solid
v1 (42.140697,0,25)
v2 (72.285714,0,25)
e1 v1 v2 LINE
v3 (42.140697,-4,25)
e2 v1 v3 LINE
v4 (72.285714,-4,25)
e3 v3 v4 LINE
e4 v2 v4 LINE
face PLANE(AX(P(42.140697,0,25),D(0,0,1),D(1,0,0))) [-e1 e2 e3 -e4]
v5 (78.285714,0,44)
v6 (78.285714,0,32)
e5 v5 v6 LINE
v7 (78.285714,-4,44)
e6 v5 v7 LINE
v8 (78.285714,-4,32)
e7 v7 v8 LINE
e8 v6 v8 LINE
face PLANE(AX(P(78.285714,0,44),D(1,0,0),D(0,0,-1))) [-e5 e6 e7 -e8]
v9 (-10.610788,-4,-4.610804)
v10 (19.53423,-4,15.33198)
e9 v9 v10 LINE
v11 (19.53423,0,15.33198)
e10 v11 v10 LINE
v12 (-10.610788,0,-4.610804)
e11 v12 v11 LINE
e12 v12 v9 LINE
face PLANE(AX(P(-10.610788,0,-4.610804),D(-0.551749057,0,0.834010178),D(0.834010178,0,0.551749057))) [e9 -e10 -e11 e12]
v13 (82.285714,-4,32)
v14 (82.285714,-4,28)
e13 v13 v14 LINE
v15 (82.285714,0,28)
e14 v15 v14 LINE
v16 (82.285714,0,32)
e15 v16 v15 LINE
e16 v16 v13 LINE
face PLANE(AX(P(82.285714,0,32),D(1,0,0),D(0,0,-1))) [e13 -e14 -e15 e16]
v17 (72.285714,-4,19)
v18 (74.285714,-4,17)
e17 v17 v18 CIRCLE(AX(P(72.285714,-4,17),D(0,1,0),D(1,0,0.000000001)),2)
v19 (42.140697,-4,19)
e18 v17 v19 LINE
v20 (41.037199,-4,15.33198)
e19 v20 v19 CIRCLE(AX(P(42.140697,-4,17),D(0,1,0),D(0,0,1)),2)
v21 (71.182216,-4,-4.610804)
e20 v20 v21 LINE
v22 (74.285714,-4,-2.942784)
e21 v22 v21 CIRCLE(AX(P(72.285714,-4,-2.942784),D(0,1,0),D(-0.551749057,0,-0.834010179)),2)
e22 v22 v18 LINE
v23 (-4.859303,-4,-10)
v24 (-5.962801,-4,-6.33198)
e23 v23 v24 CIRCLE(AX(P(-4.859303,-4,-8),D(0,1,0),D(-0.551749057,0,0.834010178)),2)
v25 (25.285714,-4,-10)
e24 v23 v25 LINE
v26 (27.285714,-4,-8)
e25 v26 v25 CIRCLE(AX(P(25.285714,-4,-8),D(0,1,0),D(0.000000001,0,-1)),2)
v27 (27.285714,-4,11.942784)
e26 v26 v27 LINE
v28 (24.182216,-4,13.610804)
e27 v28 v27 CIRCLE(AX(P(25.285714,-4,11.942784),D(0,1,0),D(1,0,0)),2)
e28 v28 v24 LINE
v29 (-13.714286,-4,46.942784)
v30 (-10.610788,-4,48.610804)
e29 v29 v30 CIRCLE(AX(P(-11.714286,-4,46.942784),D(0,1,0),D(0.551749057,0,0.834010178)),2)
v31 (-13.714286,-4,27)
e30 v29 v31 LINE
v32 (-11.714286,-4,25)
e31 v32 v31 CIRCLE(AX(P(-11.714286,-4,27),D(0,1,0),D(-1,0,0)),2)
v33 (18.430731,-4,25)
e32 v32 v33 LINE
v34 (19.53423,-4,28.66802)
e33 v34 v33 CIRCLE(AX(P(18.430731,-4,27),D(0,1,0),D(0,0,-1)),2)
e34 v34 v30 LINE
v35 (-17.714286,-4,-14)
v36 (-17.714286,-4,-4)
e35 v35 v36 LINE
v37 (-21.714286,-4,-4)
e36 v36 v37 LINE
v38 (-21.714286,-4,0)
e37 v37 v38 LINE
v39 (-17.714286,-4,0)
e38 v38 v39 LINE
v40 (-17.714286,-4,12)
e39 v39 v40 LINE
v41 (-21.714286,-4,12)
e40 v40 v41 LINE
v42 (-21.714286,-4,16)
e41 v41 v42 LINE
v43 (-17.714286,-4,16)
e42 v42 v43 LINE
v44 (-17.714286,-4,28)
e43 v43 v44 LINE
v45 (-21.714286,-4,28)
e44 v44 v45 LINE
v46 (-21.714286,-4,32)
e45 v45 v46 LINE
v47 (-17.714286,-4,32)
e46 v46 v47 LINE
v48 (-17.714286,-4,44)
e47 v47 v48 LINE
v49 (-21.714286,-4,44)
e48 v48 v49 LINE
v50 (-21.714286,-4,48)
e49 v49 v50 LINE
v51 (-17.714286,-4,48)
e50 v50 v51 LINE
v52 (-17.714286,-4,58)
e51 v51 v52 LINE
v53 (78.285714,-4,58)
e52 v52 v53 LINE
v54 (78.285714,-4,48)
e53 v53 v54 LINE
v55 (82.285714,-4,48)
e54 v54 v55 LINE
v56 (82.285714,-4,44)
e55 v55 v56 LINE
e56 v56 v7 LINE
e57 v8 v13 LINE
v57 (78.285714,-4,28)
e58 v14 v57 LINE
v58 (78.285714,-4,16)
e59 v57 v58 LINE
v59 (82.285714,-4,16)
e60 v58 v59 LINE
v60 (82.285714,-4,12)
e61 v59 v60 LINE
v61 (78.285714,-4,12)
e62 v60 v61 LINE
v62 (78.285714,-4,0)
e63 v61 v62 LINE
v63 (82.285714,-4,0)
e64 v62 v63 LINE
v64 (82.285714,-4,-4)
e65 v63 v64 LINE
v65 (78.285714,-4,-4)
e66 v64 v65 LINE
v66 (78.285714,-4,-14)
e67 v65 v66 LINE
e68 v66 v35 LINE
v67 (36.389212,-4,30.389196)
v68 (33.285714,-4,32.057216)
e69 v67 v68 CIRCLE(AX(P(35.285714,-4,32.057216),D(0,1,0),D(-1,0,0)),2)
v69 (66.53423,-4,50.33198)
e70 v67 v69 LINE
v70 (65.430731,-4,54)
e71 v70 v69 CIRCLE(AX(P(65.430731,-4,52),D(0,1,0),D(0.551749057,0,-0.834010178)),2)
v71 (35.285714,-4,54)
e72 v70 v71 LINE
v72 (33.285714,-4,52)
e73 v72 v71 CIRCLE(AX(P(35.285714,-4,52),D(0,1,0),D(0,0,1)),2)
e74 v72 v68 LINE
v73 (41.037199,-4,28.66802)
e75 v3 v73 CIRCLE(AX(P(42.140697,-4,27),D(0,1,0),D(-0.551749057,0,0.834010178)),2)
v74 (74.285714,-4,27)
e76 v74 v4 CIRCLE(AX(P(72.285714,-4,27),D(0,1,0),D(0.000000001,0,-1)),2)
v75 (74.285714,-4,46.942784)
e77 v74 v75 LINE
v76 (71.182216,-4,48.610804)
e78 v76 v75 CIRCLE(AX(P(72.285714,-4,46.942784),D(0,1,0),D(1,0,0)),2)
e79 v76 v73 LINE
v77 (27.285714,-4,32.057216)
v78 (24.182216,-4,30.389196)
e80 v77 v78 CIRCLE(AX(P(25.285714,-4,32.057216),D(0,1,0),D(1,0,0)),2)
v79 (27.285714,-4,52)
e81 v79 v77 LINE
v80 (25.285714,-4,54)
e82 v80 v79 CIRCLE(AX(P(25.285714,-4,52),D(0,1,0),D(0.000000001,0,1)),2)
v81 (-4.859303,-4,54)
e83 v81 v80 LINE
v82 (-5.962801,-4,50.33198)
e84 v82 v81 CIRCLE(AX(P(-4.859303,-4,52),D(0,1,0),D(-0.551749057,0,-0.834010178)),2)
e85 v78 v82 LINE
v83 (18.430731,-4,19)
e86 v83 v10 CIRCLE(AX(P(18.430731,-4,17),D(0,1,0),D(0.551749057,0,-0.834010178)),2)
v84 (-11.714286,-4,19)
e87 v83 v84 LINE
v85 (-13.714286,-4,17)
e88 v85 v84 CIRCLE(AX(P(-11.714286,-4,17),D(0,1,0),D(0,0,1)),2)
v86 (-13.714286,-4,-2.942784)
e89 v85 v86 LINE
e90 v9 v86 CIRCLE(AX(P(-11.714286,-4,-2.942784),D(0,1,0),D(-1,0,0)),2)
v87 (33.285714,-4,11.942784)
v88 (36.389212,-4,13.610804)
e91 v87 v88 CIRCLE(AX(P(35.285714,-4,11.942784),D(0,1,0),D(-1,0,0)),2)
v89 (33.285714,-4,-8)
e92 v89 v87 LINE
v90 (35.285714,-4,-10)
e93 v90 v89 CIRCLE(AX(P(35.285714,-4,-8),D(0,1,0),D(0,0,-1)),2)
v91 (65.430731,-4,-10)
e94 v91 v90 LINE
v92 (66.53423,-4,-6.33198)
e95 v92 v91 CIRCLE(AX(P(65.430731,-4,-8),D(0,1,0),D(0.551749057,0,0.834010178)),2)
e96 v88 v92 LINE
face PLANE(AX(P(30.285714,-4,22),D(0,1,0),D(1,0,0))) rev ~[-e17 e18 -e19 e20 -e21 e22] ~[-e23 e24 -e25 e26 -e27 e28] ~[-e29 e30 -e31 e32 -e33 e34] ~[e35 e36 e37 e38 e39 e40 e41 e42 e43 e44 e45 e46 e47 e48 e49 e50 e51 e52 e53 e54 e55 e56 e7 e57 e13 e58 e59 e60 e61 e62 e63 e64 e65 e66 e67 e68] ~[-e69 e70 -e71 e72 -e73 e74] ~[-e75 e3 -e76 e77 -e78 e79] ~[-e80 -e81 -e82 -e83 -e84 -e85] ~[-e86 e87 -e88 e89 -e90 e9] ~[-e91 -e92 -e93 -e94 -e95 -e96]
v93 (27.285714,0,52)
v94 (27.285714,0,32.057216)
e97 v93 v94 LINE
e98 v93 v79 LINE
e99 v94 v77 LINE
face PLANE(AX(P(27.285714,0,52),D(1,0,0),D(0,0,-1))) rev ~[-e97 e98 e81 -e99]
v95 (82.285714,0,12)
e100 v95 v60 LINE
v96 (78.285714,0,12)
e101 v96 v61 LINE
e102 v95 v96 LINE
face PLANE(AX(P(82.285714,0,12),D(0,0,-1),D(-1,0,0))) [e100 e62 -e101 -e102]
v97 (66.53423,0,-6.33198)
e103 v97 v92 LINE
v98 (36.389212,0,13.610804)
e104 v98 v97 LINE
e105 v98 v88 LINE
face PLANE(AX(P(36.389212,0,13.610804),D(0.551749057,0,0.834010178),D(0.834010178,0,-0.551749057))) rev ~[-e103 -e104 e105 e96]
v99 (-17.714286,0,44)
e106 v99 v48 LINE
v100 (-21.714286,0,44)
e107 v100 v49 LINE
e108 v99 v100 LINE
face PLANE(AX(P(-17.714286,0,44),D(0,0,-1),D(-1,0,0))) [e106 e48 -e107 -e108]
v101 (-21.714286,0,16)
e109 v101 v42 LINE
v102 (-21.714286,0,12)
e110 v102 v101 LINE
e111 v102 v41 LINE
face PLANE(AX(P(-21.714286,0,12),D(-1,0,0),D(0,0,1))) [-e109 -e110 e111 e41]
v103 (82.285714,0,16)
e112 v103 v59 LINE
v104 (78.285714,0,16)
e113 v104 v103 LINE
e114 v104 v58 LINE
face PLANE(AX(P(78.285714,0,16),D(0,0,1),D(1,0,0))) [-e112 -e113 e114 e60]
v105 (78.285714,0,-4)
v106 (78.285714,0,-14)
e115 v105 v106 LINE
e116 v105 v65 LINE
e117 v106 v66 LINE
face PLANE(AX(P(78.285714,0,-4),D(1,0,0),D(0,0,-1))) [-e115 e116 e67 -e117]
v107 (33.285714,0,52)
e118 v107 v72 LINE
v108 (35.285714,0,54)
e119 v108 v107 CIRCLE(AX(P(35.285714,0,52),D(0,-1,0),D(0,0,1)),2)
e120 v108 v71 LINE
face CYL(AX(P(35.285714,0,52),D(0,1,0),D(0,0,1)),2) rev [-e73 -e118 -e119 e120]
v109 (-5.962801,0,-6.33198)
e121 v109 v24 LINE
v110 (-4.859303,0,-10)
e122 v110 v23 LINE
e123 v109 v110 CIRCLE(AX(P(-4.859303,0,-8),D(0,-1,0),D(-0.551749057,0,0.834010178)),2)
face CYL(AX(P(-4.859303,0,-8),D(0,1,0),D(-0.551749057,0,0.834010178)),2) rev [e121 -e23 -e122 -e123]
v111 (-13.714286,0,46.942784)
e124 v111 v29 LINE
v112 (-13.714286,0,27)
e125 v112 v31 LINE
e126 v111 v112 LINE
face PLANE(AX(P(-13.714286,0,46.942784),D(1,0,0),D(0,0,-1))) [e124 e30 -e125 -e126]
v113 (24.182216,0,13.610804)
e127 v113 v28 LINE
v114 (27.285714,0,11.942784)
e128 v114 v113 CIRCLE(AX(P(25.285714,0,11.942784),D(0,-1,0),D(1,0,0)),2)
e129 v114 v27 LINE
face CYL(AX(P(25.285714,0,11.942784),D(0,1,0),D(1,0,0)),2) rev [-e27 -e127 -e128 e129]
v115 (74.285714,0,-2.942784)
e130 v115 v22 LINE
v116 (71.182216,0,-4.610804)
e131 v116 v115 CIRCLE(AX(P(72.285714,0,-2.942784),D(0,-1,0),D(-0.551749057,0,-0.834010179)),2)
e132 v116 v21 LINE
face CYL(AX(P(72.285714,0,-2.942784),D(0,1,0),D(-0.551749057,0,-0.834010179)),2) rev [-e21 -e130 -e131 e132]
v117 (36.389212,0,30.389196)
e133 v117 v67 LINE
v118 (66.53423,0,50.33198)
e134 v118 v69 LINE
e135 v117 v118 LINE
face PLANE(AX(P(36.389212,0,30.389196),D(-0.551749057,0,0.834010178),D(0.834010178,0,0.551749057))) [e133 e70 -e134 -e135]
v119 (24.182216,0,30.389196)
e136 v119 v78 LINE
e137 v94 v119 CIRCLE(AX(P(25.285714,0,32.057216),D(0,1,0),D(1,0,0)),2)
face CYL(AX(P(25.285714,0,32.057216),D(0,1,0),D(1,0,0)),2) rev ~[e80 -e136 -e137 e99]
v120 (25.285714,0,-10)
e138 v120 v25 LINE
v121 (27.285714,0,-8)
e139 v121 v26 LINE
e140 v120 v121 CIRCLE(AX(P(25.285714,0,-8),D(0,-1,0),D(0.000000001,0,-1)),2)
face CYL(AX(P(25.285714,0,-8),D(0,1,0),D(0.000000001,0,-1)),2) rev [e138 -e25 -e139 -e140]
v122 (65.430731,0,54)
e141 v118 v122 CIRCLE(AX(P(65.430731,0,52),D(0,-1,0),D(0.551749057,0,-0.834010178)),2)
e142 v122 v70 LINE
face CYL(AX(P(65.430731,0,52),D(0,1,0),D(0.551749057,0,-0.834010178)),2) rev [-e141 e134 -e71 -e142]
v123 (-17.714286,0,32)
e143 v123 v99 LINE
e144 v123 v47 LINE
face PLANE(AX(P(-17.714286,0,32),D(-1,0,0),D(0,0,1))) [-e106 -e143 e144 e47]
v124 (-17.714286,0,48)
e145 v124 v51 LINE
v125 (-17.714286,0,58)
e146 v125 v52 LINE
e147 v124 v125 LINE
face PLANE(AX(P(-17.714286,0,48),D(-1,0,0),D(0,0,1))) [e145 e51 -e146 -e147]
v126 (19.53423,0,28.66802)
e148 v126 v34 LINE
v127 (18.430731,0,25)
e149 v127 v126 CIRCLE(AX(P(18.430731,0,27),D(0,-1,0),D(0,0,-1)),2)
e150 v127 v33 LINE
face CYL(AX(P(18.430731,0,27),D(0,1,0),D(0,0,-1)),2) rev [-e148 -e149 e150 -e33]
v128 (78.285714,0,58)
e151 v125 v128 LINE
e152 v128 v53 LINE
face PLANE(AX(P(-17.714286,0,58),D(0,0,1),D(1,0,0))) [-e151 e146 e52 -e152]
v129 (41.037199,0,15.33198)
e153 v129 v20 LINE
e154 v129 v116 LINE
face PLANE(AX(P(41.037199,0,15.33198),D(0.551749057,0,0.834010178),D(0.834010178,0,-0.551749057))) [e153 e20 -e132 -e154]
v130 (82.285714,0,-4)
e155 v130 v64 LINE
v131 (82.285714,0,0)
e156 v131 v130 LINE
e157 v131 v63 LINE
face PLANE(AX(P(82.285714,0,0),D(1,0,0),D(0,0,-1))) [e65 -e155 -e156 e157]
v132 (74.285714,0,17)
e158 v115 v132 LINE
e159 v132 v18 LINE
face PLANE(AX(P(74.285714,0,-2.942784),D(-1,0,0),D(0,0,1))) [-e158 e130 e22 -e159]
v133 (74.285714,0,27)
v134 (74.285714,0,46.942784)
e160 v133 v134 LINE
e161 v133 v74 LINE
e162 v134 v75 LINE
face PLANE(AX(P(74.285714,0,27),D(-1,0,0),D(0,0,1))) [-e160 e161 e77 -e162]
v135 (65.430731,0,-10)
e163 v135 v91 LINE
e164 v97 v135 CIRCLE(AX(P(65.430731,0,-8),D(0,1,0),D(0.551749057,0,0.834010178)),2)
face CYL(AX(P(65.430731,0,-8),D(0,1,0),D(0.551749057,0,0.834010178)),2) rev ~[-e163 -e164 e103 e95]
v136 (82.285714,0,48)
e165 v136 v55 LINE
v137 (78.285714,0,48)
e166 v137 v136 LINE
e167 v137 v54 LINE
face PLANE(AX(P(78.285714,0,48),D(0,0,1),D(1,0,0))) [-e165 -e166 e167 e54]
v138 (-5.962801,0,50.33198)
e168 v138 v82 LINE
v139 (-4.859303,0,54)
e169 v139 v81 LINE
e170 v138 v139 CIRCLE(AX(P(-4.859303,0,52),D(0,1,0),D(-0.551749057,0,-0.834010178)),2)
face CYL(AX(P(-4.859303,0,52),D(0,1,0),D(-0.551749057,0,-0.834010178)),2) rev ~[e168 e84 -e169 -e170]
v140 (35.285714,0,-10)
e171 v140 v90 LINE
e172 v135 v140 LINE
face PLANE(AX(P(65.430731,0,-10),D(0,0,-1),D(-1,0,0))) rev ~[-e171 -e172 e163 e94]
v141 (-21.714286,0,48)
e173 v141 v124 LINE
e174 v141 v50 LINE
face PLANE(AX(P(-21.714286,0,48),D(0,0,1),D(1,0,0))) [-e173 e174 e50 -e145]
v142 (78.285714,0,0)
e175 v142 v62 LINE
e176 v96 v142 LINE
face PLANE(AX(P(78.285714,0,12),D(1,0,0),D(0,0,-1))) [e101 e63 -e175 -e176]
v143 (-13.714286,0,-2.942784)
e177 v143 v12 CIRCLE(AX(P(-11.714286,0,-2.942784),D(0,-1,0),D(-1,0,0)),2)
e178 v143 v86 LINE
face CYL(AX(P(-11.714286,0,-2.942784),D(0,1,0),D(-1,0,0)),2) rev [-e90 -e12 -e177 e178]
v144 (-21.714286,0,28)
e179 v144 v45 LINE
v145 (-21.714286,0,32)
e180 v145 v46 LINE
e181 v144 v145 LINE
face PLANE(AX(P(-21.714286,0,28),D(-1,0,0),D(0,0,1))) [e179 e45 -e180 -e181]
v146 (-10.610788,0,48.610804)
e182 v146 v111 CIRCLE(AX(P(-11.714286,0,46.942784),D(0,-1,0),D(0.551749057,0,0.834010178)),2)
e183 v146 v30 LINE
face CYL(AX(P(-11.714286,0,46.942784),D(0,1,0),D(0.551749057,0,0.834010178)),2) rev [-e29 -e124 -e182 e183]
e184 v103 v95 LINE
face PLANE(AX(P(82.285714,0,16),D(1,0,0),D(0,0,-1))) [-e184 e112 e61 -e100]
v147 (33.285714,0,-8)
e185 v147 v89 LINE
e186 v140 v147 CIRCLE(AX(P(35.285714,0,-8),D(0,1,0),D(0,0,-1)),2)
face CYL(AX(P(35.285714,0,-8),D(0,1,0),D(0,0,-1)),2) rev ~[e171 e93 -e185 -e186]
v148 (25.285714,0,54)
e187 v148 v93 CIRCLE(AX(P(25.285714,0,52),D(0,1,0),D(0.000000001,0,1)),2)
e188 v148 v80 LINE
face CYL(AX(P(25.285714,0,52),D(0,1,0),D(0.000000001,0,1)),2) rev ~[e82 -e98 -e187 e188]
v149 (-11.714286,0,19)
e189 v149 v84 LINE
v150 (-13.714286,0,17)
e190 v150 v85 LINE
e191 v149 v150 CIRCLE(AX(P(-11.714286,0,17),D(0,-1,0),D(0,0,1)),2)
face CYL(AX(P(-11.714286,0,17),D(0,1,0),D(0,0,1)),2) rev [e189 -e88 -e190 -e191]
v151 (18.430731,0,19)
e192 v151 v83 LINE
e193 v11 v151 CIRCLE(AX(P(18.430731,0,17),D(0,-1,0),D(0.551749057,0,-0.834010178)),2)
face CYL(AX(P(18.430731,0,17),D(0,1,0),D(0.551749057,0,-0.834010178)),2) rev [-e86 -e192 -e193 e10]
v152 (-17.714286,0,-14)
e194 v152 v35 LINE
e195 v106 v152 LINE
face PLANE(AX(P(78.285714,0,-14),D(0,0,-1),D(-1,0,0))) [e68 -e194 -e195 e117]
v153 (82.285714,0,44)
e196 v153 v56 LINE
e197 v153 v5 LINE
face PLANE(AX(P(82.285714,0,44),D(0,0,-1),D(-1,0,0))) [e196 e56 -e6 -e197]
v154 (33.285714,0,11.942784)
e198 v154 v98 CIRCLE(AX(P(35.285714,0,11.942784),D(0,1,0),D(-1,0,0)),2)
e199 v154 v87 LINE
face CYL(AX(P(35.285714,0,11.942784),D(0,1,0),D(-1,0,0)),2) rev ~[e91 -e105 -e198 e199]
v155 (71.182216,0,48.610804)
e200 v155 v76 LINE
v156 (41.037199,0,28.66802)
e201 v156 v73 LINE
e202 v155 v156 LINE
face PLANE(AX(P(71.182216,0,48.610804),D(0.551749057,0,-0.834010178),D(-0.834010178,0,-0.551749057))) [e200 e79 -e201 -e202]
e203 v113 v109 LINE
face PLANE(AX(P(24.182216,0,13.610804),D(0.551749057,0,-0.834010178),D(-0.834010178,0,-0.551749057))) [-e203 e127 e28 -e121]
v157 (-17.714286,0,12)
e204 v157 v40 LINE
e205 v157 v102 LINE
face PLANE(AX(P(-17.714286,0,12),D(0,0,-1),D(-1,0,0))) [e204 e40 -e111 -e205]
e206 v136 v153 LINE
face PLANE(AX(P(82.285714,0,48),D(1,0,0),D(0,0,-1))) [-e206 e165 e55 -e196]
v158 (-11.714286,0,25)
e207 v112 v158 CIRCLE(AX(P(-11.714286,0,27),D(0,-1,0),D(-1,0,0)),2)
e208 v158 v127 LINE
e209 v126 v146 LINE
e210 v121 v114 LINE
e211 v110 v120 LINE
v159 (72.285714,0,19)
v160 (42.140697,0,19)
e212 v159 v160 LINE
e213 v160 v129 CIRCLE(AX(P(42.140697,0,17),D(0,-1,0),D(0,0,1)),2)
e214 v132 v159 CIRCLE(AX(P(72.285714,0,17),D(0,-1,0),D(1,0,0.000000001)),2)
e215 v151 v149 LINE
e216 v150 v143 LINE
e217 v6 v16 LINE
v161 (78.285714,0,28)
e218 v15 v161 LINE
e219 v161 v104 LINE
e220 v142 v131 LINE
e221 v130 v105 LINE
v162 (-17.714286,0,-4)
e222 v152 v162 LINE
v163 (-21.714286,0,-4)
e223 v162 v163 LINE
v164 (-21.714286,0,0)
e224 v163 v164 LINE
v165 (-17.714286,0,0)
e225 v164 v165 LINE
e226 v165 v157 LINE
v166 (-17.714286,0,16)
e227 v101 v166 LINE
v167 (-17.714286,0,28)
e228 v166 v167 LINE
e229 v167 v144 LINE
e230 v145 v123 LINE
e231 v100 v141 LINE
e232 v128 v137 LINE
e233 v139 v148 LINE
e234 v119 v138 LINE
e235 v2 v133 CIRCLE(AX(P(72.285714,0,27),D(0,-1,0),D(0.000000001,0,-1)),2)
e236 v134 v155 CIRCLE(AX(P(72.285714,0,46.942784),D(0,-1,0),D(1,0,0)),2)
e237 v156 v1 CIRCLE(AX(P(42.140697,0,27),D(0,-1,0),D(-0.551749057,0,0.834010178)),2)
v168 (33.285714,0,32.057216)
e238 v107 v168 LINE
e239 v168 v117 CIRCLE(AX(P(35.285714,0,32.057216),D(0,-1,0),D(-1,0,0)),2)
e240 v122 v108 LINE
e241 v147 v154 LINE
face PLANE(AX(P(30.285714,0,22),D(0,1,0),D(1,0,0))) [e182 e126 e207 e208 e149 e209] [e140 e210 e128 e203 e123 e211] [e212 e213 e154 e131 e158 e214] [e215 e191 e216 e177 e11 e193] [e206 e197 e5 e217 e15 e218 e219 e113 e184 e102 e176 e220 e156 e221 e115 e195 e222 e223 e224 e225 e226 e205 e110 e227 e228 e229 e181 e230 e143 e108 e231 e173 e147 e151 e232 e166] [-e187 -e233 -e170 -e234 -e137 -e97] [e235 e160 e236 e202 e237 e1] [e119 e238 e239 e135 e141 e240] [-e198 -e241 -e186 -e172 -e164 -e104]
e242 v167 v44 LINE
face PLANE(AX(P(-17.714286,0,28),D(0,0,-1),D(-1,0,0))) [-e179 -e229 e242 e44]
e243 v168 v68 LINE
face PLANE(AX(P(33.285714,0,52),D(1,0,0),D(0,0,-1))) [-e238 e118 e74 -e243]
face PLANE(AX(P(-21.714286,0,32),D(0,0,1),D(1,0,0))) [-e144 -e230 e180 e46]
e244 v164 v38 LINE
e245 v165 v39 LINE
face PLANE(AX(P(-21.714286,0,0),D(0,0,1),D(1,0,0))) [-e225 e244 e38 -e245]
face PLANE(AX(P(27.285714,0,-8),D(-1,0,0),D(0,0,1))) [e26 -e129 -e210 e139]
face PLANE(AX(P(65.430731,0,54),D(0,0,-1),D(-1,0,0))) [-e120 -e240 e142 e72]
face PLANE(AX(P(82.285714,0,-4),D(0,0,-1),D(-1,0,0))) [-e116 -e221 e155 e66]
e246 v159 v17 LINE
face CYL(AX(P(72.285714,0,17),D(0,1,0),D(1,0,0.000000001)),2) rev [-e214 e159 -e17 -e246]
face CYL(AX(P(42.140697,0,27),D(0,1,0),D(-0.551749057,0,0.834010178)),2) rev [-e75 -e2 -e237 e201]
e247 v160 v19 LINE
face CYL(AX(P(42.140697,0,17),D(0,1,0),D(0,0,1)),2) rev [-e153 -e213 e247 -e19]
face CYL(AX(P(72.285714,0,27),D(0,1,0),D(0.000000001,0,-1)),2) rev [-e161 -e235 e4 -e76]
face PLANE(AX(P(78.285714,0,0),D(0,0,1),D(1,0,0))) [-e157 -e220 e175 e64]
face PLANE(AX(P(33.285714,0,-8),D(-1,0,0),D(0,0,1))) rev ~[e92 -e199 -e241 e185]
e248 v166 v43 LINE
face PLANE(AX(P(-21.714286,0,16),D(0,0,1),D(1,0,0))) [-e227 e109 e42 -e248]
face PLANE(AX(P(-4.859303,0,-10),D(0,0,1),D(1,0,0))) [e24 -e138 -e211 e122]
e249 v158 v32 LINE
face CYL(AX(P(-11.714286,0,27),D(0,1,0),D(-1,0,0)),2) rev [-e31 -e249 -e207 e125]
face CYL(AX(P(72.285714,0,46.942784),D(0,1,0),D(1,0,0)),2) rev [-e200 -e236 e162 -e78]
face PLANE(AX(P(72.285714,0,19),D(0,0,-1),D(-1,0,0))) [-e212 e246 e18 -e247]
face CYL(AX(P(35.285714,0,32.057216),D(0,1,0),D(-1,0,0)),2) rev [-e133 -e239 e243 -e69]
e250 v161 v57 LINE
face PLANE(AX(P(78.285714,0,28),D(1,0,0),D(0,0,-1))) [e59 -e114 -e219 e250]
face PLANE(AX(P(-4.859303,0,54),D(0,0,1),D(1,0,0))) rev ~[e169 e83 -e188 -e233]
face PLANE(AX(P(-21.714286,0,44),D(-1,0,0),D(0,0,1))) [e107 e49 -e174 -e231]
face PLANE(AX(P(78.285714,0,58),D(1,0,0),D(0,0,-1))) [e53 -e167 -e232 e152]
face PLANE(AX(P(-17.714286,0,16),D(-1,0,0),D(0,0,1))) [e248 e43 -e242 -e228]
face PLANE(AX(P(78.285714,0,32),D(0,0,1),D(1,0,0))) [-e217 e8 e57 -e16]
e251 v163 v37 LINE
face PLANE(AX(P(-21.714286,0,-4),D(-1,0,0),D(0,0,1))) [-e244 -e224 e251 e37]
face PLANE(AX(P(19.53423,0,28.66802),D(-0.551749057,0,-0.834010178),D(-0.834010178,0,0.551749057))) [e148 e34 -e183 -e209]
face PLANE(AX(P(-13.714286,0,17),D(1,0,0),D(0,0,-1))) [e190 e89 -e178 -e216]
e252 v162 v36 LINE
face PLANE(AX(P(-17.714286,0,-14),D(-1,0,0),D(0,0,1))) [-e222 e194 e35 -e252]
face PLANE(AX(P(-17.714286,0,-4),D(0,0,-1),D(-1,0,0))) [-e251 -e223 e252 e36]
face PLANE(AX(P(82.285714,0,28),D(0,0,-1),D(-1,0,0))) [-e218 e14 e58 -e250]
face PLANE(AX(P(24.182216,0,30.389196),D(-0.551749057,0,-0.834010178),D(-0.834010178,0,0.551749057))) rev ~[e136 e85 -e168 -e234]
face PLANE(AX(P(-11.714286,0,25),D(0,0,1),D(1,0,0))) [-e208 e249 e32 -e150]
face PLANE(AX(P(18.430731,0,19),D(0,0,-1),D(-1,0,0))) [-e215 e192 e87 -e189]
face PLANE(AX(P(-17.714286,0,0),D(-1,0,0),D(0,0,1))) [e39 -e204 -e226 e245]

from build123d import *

# Parameters (mm, degrees)
BOSS_EXTRUDE1_DEPTH = 4
CUT_EXTRUDE1_DEPTH  = 10


with BuildPart() as part:
    # Sketch1 → Boss-Extrude1 (new body)
    with BuildSketch(Plane(origin=(0, 0, 0), x_dir=(1, 0, 0), z_dir=(0, 1, 0))):
        Polygon((-17.714285714, -48), (-17.714285714, -58), (78.285714286, -58), (78.285714286, -48), (82.285714286, -48), (82.285714286, -44), (78.285714286, -44), (78.285714286, -32), (82.285714286, -32), (82.285714286, -28), (78.285714286, -28), (78.285714286, -16), (82.285714286, -16), (82.285714286, -12), (78.285714286, -12), (78.285714286, 0), (82.285714286, 0), (82.285714286, 4), (78.285714286, 4), (78.285714286, 14), (-17.714285714, 14), (-17.714285714, 4), (-21.714285714, 4), (-21.714285714, 0), (-17.714285714, 0), (-17.714285714, -12), (-21.714285714, -12), (-21.714285714, -16), (-17.714285714, -16), (-17.714285714, -28), (-21.714285714, -28), (-21.714285714, -32), (-17.714285714, -32), (-17.714285714, -44), (-21.714285714, -44), (-21.714285714, -48), align=None)
    extrude(amount=-BOSS_EXTRUDE1_DEPTH)

    # Sketch2 → Cut-Extrude1 (cut)
    with BuildSketch(Plane(origin=(0, 0, 0), x_dir=(1, 0, 0), z_dir=(0, 1, 0))):
        with BuildLine():
            ThreePointArc((-13.714285714, 2.94278394), (-12.661123549, 4.704458744), (-10.6107876, 4.610804297))
            Line((-10.6107876, 4.610804297), (19.53422954, -15.331979643))
            ThreePointArc((19.53422954, -15.331979643), (20.345939079, -17.576176746), (18.430731426, -19))
            Line((18.430731426, -19), (-11.714285714, -19))
            ThreePointArc((-11.714285714, -19), (-13.128499277, -18.414213562), (-13.714285714, -17))
            Line((-13.714285714, -17), (-13.714285714, 2.94278394))
        make_face()
        with BuildLine():
            Line((-4.859302854, 10), (25.285714286, 10))
            ThreePointArc((25.285714286, 10), (26.699927848, 9.414213562), (27.285714286, 8))
            Line((27.285714286, 8), (27.285714286, -11.94278394))
            ThreePointArc((27.285714286, -11.94278394), (26.23255212, -13.704458744), (24.182216171, -13.610804297))
            Line((24.182216171, -13.610804297), (-5.962800969, 6.331979643))
            ThreePointArc((-5.962800969, 6.331979643), (-6.774510508, 8.576176746), (-4.859302854, 10))
        make_face()
        with BuildLine():
            Line((33.285714286, 8), (33.285714286, -11.94278394))
            ThreePointArc((33.285714286, -11.94278394), (34.338876451, -13.704458744), (36.3892124, -13.610804297))
            Line((36.3892124, -13.610804297), (66.53422954, 6.331979643))
            ThreePointArc((66.53422954, 6.331979643), (67.345939079, 8.576176746), (65.430731426, 10))
            Line((65.430731426, 10), (35.285714286, 10))
            ThreePointArc((35.285714286, 10), (33.871500723, 9.414213562), (33.285714286, 8))
        make_face()
        with BuildLine():
            ThreePointArc((74.285714286, -17), (73.699927848, -18.414213562), (72.285714286, -19))
            Line((72.285714286, -19), (42.140697146, -19))
            ThreePointArc((42.140697146, -19), (40.225489492, -17.576176746), (41.037199031, -15.331979643))
            Line((41.037199031, -15.331979643), (71.182216171, 4.610804297))
            ThreePointArc((71.182216171, 4.610804297), (73.23255212, 4.704458744), (74.285714286, 2.94278394))
            Line((74.285714286, 2.94278394), (74.285714286, -17))
        make_face()
        with BuildLine():
            ThreePointArc((74.285714286, -46.94278394), (73.23255212, -48.704458744), (71.182216171, -48.610804297))
            Line((71.182216171, -48.610804297), (41.037199031, -28.668020357))
            ThreePointArc((41.037199031, -28.668020357), (40.225489492, -26.423823254), (42.140697146, -25))
            Line((42.140697146, -25), (72.285714286, -25))
            ThreePointArc((72.285714286, -25), (73.699927848, -25.585786438), (74.285714286, -27))
            Line((74.285714286, -27), (74.285714286, -46.94278394))
        make_face()
        with BuildLine():
            Line((65.430731426, -54), (35.285714286, -54))
            ThreePointArc((35.285714286, -54), (33.871500723, -53.414213562), (33.285714286, -52))
            Line((33.285714286, -52), (33.285714286, -32.05721606))
            ThreePointArc((33.285714286, -32.05721606), (34.338876451, -30.295541256), (36.3892124, -30.389195703))
            Line((36.3892124, -30.389195703), (66.53422954, -50.331979643))
            ThreePointArc((66.53422954, -50.331979643), (67.345939079, -52.576176746), (65.430731426, -54))
        make_face()
        with BuildLine():
            Line((27.285714286, -52), (27.285714286, -32.05721606))
            ThreePointArc((27.285714286, -32.05721606), (26.23255212, -30.295541256), (24.182216171, -30.389195703))
            Line((24.182216171, -30.389195703), (-5.962800969, -50.331979643))
            ThreePointArc((-5.962800969, -50.331979643), (-6.774510508, -52.576176746), (-4.859302854, -54))
            Line((-4.859302854, -54), (25.285714286, -54))
            ThreePointArc((25.285714286, -54), (26.699927848, -53.414213562), (27.285714286, -52))
        make_face()
        with BuildLine():
            ThreePointArc((-13.714285714, -27), (-13.128499277, -25.585786438), (-11.714285714, -25))
            Line((-11.714285714, -25), (18.430731426, -25))
            ThreePointArc((18.430731426, -25), (20.345939079, -26.423823254), (19.53422954, -28.668020357))
            Line((19.53422954, -28.668020357), (-10.6107876, -48.610804297))
            ThreePointArc((-10.6107876, -48.610804297), (-12.661123549, -48.704458744), (-13.714285714, -46.94278394))
            Line((-13.714285714, -46.94278394), (-13.714285714, -27))
        make_face()
    extrude(amount=-CUT_EXTRUDE1_DEPTH, mode=Mode.SUBTRACT)


solid = part.part
